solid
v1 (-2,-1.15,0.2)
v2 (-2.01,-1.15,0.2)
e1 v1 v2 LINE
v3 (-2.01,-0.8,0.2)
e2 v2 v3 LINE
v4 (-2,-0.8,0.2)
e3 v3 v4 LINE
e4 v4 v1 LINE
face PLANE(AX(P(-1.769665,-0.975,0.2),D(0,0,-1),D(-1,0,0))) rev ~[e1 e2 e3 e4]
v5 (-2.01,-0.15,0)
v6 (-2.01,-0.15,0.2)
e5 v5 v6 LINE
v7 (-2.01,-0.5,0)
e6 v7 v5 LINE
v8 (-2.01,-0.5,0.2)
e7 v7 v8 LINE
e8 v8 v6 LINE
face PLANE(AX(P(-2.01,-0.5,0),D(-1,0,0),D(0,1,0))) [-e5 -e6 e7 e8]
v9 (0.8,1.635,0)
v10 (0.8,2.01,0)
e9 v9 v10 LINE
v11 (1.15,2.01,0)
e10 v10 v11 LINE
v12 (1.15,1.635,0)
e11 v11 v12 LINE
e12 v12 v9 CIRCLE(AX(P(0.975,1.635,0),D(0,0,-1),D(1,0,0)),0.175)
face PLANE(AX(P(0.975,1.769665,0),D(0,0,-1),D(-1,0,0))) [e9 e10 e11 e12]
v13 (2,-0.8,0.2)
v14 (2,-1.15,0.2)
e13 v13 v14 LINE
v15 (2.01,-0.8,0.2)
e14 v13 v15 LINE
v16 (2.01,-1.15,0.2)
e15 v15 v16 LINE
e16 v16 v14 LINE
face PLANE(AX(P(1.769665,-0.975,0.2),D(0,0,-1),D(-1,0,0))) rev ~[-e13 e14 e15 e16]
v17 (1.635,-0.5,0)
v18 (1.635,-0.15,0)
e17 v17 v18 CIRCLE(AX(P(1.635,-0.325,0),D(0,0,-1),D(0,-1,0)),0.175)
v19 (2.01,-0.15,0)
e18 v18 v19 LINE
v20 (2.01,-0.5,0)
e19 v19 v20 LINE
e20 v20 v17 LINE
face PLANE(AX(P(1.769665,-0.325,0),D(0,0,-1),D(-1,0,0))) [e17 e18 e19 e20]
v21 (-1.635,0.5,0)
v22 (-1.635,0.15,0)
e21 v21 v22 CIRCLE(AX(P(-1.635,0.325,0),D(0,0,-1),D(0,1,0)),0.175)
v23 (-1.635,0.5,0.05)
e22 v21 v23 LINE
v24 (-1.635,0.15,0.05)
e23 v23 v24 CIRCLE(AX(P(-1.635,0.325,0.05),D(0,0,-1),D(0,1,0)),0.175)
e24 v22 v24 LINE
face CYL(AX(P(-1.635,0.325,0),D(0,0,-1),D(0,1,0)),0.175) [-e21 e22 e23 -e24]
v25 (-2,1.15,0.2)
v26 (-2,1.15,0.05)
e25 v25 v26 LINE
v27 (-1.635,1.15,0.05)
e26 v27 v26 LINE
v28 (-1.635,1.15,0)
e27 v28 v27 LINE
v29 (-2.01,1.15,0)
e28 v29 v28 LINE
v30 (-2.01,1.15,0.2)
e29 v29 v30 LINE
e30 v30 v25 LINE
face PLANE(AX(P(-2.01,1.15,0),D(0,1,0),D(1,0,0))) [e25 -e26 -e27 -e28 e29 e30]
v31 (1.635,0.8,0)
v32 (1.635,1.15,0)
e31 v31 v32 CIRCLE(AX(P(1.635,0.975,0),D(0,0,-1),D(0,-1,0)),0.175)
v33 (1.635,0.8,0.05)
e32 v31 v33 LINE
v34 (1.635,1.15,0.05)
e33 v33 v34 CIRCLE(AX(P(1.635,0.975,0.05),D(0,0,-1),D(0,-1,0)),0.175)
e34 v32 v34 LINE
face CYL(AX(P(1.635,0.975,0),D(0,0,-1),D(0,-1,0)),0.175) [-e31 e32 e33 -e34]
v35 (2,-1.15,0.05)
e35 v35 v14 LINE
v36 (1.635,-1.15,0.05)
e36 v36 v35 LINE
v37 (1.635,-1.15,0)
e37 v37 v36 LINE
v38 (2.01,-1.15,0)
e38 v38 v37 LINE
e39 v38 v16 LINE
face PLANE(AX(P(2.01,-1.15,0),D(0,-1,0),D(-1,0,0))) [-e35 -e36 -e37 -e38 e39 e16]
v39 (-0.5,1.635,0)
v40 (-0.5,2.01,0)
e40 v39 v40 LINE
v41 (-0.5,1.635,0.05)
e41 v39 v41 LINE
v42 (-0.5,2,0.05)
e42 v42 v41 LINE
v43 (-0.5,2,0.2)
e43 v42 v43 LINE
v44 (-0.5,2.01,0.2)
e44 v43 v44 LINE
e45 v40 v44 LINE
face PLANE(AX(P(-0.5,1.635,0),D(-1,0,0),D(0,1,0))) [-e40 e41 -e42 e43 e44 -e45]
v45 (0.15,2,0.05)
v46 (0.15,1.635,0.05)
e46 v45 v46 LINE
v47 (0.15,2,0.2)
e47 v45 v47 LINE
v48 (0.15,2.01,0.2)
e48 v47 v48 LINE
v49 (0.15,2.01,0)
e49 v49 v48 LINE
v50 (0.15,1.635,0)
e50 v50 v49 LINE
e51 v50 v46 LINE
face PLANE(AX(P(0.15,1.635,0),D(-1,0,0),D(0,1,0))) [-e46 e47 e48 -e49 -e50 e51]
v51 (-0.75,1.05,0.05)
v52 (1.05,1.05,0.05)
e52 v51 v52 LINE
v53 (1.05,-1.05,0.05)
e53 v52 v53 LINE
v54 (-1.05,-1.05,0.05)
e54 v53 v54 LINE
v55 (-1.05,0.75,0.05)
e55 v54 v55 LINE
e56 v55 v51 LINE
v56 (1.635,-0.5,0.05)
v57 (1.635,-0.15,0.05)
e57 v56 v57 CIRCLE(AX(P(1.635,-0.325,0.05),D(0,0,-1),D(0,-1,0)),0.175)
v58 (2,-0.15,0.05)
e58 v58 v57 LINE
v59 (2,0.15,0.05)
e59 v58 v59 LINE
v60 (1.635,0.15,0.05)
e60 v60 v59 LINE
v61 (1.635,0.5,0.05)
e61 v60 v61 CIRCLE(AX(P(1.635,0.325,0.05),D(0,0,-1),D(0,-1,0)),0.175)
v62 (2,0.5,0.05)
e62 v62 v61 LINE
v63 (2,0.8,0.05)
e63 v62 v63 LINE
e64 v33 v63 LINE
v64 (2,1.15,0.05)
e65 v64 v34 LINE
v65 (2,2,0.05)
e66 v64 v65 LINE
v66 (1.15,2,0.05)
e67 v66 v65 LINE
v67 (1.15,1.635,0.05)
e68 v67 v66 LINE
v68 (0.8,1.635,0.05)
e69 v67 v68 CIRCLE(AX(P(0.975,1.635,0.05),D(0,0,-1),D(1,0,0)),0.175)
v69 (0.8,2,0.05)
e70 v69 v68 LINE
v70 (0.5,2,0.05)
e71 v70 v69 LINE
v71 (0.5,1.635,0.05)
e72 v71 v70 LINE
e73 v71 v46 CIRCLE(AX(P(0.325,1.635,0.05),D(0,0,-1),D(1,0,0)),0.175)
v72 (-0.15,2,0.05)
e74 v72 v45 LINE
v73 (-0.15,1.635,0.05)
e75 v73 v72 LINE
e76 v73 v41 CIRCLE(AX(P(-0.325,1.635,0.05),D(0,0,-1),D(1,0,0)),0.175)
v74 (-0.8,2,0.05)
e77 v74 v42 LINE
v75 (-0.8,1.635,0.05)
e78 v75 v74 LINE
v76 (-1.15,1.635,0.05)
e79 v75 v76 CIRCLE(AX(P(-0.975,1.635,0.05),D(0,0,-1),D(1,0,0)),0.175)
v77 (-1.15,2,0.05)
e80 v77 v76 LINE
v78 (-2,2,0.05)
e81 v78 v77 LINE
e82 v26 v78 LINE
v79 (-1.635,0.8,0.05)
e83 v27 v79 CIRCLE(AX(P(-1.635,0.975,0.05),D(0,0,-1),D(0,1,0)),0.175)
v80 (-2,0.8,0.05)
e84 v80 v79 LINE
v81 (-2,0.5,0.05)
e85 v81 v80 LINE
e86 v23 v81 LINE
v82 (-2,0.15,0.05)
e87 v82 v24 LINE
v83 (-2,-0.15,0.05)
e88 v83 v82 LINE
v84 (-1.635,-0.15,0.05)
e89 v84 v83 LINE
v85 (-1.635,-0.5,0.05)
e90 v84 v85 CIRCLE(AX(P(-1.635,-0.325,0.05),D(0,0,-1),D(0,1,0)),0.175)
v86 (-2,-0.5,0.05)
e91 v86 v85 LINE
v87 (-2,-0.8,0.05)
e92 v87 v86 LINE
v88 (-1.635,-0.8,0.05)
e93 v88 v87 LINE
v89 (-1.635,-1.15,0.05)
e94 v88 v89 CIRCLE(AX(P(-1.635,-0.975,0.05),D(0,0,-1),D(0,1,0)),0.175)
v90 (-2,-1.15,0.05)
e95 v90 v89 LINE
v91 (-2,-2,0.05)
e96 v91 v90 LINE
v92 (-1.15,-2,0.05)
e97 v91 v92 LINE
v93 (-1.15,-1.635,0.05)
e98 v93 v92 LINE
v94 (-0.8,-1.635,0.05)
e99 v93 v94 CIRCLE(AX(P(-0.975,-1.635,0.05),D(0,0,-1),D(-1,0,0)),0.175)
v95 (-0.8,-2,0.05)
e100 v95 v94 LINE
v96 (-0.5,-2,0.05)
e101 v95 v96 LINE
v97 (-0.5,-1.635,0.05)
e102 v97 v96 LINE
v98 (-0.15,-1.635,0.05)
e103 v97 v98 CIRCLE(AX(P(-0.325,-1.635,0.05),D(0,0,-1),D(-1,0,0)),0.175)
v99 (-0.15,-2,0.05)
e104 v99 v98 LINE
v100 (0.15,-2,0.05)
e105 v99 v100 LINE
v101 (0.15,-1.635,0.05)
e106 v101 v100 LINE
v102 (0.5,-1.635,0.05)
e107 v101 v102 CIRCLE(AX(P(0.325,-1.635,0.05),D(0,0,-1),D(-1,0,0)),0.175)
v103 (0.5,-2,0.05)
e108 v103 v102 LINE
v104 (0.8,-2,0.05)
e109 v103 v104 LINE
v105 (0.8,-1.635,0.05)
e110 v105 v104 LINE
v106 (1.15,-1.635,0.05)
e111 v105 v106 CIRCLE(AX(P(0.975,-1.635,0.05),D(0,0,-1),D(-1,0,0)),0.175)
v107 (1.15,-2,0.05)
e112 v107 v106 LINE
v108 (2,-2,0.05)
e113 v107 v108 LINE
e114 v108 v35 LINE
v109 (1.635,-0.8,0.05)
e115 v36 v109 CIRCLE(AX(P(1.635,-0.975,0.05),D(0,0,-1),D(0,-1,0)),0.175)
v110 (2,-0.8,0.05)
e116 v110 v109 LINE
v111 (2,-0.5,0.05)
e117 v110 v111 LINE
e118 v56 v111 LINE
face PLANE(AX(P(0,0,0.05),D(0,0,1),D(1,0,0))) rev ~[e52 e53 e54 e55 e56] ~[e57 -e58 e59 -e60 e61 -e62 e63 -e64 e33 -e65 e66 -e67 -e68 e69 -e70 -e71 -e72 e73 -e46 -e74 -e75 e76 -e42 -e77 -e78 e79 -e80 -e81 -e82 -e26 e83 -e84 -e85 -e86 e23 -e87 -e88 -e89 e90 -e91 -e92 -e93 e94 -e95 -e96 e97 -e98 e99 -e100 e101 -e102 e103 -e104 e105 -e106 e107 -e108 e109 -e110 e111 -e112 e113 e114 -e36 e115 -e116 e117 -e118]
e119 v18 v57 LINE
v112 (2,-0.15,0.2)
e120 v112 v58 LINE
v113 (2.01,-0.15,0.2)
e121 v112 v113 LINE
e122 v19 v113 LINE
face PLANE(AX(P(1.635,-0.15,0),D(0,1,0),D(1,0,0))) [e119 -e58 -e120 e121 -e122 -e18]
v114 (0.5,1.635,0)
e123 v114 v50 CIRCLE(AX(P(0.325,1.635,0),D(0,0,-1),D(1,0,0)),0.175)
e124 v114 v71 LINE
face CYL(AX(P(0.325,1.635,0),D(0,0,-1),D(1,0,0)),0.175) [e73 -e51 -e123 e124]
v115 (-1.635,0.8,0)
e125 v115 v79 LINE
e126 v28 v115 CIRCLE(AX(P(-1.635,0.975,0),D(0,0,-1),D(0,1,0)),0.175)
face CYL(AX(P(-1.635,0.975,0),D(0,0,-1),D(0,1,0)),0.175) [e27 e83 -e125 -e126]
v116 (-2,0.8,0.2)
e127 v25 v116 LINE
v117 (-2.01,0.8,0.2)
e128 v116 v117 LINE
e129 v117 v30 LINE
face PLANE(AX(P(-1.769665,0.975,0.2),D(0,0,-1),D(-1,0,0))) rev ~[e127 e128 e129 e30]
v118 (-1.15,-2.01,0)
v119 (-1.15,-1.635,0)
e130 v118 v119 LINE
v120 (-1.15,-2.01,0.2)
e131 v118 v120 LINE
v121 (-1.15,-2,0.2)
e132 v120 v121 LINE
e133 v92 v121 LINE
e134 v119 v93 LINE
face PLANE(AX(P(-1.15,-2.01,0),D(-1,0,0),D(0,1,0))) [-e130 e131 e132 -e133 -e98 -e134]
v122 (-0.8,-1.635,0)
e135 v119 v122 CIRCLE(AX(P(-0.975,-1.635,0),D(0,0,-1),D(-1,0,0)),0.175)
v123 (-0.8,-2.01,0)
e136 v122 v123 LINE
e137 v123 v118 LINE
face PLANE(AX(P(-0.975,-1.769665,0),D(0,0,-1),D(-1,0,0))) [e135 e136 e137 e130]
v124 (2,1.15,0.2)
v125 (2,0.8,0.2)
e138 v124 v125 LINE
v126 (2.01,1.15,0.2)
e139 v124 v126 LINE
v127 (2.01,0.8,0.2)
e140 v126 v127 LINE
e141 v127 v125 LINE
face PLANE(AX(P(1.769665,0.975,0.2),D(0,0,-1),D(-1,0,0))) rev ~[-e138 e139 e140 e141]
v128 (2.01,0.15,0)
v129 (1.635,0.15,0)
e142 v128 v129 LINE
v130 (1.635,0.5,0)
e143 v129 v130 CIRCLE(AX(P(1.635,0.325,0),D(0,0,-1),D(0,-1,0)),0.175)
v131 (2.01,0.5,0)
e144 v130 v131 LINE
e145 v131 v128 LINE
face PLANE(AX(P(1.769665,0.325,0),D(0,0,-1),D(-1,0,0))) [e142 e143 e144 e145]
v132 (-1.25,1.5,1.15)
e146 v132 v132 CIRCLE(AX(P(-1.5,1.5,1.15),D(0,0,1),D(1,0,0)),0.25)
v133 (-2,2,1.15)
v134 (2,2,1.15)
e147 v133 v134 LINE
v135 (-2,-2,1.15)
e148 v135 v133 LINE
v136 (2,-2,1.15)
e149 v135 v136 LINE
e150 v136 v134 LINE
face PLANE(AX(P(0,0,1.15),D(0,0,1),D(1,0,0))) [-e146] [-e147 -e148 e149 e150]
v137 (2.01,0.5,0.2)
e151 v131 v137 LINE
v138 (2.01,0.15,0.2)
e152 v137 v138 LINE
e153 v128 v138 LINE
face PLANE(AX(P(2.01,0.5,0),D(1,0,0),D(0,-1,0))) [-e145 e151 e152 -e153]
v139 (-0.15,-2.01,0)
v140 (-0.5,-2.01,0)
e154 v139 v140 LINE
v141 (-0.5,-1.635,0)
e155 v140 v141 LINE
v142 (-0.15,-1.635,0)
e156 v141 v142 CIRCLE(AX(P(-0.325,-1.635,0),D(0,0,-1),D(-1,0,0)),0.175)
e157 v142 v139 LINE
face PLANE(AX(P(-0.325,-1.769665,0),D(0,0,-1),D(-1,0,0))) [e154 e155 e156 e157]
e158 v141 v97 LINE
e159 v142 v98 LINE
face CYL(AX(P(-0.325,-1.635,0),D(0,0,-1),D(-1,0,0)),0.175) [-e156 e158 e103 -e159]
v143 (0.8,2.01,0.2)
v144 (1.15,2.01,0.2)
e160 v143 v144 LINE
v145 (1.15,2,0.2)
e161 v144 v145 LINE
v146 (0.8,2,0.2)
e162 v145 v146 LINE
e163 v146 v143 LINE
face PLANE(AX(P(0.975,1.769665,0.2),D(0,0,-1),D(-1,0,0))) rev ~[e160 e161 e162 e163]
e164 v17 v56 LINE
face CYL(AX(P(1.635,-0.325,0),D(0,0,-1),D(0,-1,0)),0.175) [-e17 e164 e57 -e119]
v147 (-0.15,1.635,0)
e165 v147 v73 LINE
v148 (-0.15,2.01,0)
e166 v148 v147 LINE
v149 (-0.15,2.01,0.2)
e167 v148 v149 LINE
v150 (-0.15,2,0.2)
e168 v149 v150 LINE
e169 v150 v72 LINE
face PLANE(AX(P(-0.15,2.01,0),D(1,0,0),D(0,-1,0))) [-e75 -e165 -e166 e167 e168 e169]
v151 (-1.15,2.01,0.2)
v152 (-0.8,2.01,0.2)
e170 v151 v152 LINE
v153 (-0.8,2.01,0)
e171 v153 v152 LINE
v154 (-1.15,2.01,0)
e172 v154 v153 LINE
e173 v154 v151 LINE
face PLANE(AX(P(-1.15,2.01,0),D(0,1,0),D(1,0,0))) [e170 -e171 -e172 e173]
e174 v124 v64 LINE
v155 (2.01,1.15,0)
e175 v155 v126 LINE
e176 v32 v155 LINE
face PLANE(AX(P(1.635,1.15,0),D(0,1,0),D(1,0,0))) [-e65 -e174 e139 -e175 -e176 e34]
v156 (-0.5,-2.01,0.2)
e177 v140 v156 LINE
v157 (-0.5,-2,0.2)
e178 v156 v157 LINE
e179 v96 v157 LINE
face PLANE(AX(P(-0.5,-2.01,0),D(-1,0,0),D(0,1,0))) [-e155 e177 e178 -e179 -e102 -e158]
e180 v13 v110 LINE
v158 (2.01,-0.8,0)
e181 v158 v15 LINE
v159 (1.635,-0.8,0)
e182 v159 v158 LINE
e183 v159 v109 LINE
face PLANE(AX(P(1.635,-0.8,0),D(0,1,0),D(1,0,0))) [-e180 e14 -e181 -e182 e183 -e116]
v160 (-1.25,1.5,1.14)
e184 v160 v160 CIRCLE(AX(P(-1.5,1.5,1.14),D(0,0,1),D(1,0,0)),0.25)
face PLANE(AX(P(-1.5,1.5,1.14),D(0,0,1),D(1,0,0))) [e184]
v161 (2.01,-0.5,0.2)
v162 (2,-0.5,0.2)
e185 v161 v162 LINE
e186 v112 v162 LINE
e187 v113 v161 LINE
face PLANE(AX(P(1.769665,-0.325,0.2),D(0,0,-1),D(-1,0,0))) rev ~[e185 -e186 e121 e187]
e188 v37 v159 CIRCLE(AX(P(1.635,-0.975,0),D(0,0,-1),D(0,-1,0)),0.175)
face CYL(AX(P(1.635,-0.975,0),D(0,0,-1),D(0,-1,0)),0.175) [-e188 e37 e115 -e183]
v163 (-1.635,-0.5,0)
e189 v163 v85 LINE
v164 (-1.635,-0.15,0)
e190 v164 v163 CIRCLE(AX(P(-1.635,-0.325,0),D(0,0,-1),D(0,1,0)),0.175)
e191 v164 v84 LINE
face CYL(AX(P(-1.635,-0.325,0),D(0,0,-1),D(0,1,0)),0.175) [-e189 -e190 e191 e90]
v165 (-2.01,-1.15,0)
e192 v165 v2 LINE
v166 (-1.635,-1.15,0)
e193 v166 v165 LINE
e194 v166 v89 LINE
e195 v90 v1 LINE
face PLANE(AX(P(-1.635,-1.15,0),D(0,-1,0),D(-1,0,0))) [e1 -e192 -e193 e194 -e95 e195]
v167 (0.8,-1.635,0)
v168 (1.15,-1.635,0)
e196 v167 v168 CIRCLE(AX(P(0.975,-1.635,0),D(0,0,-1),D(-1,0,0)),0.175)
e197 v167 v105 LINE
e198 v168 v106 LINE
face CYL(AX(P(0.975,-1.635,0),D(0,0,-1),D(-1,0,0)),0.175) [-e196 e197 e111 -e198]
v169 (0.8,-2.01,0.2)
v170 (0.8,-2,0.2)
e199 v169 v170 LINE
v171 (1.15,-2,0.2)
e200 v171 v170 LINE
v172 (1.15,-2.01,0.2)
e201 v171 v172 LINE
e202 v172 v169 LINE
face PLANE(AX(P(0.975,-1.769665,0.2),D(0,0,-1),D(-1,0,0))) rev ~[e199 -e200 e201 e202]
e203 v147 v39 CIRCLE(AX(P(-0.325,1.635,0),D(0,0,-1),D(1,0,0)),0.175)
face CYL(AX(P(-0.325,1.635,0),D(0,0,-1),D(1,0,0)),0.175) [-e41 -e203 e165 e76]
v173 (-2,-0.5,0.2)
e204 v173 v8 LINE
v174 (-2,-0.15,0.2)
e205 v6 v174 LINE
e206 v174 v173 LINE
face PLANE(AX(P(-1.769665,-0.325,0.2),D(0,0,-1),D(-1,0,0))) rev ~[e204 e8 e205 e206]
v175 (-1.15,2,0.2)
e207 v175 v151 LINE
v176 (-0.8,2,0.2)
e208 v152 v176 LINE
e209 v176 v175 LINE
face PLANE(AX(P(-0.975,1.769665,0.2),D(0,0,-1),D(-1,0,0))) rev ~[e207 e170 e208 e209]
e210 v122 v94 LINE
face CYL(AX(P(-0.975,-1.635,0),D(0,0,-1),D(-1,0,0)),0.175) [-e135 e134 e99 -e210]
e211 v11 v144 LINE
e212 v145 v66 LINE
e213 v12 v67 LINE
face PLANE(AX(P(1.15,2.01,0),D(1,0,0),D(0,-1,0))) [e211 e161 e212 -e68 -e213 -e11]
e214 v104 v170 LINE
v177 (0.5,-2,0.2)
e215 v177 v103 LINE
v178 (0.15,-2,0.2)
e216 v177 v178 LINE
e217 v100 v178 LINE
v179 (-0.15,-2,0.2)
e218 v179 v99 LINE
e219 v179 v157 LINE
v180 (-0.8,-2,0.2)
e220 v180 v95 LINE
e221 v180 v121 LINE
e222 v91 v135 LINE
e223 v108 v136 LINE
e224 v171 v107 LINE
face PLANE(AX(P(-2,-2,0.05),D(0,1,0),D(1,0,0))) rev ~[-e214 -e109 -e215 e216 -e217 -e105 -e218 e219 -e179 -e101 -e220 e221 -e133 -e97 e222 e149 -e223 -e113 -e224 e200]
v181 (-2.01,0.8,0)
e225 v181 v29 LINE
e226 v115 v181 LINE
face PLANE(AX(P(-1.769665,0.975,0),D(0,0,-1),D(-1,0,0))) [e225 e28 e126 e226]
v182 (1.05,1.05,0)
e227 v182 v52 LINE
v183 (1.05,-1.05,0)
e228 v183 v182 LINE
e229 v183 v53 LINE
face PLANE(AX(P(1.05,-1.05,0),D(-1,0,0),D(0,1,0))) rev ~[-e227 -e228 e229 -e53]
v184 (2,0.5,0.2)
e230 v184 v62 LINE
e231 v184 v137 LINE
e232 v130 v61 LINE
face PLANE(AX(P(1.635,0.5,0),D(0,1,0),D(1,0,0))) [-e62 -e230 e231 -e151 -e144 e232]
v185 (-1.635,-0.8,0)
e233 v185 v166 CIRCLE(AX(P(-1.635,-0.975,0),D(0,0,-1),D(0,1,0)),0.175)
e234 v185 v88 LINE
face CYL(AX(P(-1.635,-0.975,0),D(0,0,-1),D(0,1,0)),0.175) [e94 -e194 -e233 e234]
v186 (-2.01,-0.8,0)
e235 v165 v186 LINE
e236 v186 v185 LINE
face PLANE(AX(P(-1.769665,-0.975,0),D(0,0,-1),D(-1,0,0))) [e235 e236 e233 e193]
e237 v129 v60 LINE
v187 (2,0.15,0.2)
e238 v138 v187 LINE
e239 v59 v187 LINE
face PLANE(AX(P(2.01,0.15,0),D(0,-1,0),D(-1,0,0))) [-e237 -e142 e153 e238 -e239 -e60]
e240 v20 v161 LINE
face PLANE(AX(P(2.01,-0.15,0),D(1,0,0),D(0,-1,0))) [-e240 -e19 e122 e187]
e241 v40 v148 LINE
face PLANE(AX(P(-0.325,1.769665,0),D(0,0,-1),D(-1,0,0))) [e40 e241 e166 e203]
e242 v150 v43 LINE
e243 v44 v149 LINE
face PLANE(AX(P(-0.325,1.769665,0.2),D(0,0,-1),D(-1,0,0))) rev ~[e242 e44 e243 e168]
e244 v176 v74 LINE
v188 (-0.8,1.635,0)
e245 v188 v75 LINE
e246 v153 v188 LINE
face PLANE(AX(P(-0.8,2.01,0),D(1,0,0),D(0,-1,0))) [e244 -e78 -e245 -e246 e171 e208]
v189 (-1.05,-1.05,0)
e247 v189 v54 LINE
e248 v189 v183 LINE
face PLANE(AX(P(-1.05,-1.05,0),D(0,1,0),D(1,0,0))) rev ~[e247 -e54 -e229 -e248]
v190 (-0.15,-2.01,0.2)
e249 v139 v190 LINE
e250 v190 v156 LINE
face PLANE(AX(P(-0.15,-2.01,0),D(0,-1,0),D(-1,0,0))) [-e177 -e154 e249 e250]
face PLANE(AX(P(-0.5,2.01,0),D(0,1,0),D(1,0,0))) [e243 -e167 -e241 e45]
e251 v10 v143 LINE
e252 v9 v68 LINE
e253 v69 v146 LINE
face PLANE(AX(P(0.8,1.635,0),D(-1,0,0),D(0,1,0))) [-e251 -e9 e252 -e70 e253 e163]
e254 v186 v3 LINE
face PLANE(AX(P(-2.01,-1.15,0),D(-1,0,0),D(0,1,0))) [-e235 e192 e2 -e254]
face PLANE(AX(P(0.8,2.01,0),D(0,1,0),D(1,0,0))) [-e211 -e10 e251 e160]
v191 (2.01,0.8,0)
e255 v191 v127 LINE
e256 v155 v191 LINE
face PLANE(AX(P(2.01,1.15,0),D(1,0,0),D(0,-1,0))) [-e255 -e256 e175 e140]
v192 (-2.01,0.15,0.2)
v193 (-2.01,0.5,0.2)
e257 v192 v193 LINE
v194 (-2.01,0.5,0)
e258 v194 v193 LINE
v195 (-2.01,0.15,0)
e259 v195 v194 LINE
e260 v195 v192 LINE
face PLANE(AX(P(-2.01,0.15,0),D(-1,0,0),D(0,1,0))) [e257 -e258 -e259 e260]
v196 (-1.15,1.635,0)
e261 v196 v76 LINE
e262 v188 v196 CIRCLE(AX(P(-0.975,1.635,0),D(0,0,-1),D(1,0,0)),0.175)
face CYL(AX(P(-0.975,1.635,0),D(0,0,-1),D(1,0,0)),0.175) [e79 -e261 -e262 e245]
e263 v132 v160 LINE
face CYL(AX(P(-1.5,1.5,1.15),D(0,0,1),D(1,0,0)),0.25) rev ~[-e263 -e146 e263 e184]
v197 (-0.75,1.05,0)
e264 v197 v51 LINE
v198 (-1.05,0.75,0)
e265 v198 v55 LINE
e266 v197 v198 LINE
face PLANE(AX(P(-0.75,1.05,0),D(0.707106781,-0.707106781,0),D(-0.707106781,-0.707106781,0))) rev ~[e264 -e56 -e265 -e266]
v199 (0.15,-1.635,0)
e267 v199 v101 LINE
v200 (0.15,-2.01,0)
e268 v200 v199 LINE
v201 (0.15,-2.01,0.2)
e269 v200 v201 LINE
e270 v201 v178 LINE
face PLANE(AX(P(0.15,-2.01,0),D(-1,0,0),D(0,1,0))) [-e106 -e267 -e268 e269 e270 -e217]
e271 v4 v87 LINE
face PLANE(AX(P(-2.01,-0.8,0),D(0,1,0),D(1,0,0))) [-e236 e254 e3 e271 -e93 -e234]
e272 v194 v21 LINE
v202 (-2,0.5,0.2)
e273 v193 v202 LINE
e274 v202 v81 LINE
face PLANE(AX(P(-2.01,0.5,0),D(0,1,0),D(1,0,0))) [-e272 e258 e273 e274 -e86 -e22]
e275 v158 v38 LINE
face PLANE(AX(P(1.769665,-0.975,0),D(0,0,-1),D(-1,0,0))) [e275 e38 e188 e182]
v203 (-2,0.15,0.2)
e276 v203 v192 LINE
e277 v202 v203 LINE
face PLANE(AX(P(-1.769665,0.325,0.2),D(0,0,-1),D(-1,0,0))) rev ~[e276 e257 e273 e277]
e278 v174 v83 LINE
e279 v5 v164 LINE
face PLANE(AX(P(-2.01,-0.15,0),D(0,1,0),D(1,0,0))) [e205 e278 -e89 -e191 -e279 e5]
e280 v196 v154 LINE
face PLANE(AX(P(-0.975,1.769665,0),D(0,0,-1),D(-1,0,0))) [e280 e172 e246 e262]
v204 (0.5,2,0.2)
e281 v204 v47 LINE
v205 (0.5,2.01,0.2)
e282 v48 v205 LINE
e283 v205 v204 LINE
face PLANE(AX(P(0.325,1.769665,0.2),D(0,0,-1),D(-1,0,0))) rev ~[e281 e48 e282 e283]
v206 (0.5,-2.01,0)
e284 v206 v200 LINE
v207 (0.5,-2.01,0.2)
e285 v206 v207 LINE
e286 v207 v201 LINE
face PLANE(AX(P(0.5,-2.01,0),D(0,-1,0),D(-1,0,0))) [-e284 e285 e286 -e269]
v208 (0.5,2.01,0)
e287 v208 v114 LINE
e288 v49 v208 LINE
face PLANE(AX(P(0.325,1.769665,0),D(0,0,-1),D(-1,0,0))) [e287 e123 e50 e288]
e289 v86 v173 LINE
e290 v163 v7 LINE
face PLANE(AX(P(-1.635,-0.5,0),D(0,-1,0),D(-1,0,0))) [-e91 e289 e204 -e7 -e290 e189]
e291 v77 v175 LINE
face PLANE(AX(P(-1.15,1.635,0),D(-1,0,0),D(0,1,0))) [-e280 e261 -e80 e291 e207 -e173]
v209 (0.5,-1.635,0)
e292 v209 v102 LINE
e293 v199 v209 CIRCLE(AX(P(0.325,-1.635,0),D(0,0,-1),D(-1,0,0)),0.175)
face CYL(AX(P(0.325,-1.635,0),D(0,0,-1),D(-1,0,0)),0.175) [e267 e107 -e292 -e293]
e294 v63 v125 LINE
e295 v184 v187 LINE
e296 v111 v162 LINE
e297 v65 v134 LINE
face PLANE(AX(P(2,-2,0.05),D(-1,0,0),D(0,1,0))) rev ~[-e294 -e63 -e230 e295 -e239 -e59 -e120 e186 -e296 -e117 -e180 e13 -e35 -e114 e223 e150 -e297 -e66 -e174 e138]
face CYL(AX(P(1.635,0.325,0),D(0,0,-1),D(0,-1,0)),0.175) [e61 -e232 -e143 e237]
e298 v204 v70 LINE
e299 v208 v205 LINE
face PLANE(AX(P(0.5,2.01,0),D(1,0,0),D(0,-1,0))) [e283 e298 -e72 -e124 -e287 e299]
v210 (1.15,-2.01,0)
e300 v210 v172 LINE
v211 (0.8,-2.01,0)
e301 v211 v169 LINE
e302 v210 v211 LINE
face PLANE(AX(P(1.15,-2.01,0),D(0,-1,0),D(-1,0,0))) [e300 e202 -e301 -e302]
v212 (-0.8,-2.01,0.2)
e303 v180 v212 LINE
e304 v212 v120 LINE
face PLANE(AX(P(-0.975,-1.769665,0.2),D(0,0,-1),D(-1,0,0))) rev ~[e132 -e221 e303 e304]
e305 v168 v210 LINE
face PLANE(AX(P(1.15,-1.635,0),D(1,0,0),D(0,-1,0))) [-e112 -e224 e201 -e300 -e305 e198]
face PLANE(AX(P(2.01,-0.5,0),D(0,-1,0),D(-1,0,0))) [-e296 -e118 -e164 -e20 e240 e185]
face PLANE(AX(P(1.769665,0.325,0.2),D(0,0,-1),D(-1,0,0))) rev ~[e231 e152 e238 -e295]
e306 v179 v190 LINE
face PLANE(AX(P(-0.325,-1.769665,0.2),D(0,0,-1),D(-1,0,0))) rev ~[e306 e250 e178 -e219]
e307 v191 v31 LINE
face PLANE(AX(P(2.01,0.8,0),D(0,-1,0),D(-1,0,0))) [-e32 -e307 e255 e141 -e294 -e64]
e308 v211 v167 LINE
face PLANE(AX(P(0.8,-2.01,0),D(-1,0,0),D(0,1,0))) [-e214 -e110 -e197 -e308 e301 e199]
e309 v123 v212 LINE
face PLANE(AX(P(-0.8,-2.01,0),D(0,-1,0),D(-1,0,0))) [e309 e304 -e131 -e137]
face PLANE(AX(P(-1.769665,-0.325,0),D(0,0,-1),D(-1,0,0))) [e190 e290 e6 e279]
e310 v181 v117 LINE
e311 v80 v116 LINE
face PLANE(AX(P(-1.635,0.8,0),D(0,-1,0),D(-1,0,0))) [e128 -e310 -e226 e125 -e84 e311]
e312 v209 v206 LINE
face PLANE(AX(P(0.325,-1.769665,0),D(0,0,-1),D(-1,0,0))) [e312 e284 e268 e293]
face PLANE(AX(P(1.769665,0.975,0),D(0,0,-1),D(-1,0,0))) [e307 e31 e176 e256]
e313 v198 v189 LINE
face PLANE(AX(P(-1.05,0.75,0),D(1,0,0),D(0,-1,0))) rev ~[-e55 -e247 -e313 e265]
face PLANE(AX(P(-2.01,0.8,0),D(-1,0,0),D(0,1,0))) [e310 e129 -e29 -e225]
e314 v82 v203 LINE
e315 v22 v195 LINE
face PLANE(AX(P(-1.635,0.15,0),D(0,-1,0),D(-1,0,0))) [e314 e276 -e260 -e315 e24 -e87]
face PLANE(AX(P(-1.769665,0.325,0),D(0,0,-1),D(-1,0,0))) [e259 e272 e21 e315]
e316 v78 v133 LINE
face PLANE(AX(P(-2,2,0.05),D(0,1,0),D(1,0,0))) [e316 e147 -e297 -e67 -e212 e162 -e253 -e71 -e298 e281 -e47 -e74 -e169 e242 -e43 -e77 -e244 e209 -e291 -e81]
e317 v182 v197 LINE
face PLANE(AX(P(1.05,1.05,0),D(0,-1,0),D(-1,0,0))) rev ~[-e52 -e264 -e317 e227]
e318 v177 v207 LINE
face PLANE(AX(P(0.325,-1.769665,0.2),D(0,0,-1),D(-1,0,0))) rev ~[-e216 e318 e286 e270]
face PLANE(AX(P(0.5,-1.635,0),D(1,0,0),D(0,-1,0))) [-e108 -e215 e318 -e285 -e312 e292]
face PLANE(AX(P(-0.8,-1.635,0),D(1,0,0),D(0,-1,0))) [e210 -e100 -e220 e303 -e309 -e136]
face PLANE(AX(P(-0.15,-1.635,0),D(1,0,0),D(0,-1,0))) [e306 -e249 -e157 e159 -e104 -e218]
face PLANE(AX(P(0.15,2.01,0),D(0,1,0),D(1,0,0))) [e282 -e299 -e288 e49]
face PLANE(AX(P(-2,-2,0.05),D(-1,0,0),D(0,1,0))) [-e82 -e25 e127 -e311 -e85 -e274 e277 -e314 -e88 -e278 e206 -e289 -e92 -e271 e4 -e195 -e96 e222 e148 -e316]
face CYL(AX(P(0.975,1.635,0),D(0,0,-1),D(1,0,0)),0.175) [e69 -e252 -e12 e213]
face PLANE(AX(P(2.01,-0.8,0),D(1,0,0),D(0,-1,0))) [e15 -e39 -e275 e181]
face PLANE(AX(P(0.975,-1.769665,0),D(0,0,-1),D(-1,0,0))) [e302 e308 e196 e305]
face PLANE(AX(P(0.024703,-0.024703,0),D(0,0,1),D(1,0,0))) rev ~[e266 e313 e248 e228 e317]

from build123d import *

# Parameters (mm, degrees)
ESBO_O1_W                = 4
ESBO_O1_H                = 4
RESSALTO_EXTRUS_O1_DEPTH = 1.1
RESSALTO_EXTRUS_O2_DEPTH = 0.2
ESBO_O3_R                = 0.25
CORTE_EXTRUS_O1_DEPTH    = 0.01


with BuildPart() as part:
    # Esboço1 → Ressalto-extrusão1 (new body)
    with BuildSketch(Plane.XY.offset(0.05)):
        Rectangle(ESBO_O1_W, ESBO_O1_H)
    extrude(amount=RESSALTO_EXTRUS_O1_DEPTH)

    # Esboço2 → Ressalto-extrusão2 (add)
    with BuildSketch(Plane.XY):
        Polygon((-1.05, -1.05), (1.05, -1.05), (1.05, 1.05), (-0.75, 1.05), (-1.05, 0.75), align=None)
        with BuildLine():
            Line((-0.8, -2.01), (-1.15, -2.01))
            Line((-1.15, -2.01), (-1.15, -1.635))
            ThreePointArc((-1.15, -1.635), (-0.975, -1.46), (-0.8, -1.635))
            Line((-0.8, -1.635), (-0.8, -2.01))
        make_face()
        with BuildLine():
            Line((-0.5, -2.01), (-0.5, -1.635))
            ThreePointArc((-0.5, -1.635), (-0.325, -1.46), (-0.15, -1.635))
            Line((-0.15, -1.635), (-0.15, -2.01))
            Line((-0.15, -2.01), (-0.5, -2.01))
        make_face()
        with BuildLine():
            Line((0.15, -2.01), (0.15, -1.635))
            ThreePointArc((0.15, -1.635), (0.325, -1.46), (0.5, -1.635))
            Line((0.5, -1.635), (0.5, -2.01))
            Line((0.5, -2.01), (0.15, -2.01))
        make_face()
        with BuildLine():
            Line((0.8, -2.01), (0.8, -1.635))
            ThreePointArc((0.8, -1.635), (0.975, -1.46), (1.15, -1.635))
            Line((1.15, -1.635), (1.15, -2.01))
            Line((1.15, -2.01), (0.8, -2.01))
        make_face()
        with BuildLine():
            Line((-2.01, 0.8), (-2.01, 1.15))
            Line((-2.01, 1.15), (-1.635, 1.15))
            ThreePointArc((-1.635, 1.15), (-1.46, 0.975), (-1.635, 0.8))
            Line((-1.635, 0.8), (-2.01, 0.8))
        make_face()
        with BuildLine():
            Line((-2.01, 0.5), (-1.635, 0.5))
            ThreePointArc((-1.635, 0.5), (-1.46, 0.325), (-1.635, 0.15))
            Line((-1.635, 0.15), (-2.01, 0.15))
            Line((-2.01, 0.15), (-2.01, 0.5))
        make_face()
        with BuildLine():
            Line((-2.01, -0.15), (-1.635, -0.15))
            ThreePointArc((-1.635, -0.15), (-1.46, -0.325), (-1.635, -0.5))
            Line((-1.635, -0.5), (-2.01, -0.5))
            Line((-2.01, -0.5), (-2.01, -0.15))
        make_face()
        with BuildLine():
            Line((-2.01, -0.8), (-1.635, -0.8))
            ThreePointArc((-1.635, -0.8), (-1.46, -0.975), (-1.635, -1.15))
            Line((-1.635, -1.15), (-2.01, -1.15))
            Line((-2.01, -1.15), (-2.01, -0.8))
        make_face()
        with BuildLine():
            Line((0.8, 2.01), (1.15, 2.01))
            Line((1.15, 2.01), (1.15, 1.635))
            ThreePointArc((1.15, 1.635), (0.975, 1.46), (0.8, 1.635))
            Line((0.8, 1.635), (0.8, 2.01))
        make_face()
        with BuildLine():
            Line((0.5, 2.01), (0.5, 1.635))
            ThreePointArc((0.5, 1.635), (0.325, 1.46), (0.15, 1.635))
            Line((0.15, 1.635), (0.15, 2.01))
            Line((0.15, 2.01), (0.5, 2.01))
        make_face()
        with BuildLine():
            Line((-0.15, 2.01), (-0.15, 1.635))
            ThreePointArc((-0.15, 1.635), (-0.325, 1.46), (-0.5, 1.635))
            Line((-0.5, 1.635), (-0.5, 2.01))
            Line((-0.5, 2.01), (-0.15, 2.01))
        make_face()
        with BuildLine():
            Line((-0.8, 2.01), (-0.8, 1.635))
            ThreePointArc((-0.8, 1.635), (-0.975, 1.46), (-1.15, 1.635))
            Line((-1.15, 1.635), (-1.15, 2.01))
            Line((-1.15, 2.01), (-0.8, 2.01))
        make_face()
        with BuildLine():
            Line((2.01, -0.8), (2.01, -1.15))
            Line((2.01, -1.15), (1.635, -1.15))
            ThreePointArc((1.635, -1.15), (1.46, -0.975), (1.635, -0.8))
            Line((1.635, -0.8), (2.01, -0.8))
        make_face()
        with BuildLine():
            Line((2.01, -0.5), (1.635, -0.5))
            ThreePointArc((1.635, -0.5), (1.46, -0.325), (1.635, -0.15))
            Line((1.635, -0.15), (2.01, -0.15))
            Line((2.01, -0.15), (2.01, -0.5))
        make_face()
        with BuildLine():
            Line((2.01, 0.15), (1.635, 0.15))
            ThreePointArc((1.635, 0.15), (1.46, 0.325), (1.635, 0.5))
            Line((1.635, 0.5), (2.01, 0.5))
            Line((2.01, 0.5), (2.01, 0.15))
        make_face()
        with BuildLine():
            Line((2.01, 0.8), (1.635, 0.8))
            ThreePointArc((1.635, 0.8), (1.46, 0.975), (1.635, 1.15))
            Line((1.635, 1.15), (2.01, 1.15))
            Line((2.01, 1.15), (2.01, 0.8))
        make_face()
    extrude(amount=RESSALTO_EXTRUS_O2_DEPTH)

    # Esboço3 → Corte-extrusão1 (cut)
    with BuildSketch(Plane.XY.offset(1.15)):
        with Locations((-1.5, 1.5)):
            Circle(ESBO_O3_R)
    extrude(amount=-CORTE_EXTRUS_O1_DEPTH, mode=Mode.SUBTRACT)


solid = part.part
